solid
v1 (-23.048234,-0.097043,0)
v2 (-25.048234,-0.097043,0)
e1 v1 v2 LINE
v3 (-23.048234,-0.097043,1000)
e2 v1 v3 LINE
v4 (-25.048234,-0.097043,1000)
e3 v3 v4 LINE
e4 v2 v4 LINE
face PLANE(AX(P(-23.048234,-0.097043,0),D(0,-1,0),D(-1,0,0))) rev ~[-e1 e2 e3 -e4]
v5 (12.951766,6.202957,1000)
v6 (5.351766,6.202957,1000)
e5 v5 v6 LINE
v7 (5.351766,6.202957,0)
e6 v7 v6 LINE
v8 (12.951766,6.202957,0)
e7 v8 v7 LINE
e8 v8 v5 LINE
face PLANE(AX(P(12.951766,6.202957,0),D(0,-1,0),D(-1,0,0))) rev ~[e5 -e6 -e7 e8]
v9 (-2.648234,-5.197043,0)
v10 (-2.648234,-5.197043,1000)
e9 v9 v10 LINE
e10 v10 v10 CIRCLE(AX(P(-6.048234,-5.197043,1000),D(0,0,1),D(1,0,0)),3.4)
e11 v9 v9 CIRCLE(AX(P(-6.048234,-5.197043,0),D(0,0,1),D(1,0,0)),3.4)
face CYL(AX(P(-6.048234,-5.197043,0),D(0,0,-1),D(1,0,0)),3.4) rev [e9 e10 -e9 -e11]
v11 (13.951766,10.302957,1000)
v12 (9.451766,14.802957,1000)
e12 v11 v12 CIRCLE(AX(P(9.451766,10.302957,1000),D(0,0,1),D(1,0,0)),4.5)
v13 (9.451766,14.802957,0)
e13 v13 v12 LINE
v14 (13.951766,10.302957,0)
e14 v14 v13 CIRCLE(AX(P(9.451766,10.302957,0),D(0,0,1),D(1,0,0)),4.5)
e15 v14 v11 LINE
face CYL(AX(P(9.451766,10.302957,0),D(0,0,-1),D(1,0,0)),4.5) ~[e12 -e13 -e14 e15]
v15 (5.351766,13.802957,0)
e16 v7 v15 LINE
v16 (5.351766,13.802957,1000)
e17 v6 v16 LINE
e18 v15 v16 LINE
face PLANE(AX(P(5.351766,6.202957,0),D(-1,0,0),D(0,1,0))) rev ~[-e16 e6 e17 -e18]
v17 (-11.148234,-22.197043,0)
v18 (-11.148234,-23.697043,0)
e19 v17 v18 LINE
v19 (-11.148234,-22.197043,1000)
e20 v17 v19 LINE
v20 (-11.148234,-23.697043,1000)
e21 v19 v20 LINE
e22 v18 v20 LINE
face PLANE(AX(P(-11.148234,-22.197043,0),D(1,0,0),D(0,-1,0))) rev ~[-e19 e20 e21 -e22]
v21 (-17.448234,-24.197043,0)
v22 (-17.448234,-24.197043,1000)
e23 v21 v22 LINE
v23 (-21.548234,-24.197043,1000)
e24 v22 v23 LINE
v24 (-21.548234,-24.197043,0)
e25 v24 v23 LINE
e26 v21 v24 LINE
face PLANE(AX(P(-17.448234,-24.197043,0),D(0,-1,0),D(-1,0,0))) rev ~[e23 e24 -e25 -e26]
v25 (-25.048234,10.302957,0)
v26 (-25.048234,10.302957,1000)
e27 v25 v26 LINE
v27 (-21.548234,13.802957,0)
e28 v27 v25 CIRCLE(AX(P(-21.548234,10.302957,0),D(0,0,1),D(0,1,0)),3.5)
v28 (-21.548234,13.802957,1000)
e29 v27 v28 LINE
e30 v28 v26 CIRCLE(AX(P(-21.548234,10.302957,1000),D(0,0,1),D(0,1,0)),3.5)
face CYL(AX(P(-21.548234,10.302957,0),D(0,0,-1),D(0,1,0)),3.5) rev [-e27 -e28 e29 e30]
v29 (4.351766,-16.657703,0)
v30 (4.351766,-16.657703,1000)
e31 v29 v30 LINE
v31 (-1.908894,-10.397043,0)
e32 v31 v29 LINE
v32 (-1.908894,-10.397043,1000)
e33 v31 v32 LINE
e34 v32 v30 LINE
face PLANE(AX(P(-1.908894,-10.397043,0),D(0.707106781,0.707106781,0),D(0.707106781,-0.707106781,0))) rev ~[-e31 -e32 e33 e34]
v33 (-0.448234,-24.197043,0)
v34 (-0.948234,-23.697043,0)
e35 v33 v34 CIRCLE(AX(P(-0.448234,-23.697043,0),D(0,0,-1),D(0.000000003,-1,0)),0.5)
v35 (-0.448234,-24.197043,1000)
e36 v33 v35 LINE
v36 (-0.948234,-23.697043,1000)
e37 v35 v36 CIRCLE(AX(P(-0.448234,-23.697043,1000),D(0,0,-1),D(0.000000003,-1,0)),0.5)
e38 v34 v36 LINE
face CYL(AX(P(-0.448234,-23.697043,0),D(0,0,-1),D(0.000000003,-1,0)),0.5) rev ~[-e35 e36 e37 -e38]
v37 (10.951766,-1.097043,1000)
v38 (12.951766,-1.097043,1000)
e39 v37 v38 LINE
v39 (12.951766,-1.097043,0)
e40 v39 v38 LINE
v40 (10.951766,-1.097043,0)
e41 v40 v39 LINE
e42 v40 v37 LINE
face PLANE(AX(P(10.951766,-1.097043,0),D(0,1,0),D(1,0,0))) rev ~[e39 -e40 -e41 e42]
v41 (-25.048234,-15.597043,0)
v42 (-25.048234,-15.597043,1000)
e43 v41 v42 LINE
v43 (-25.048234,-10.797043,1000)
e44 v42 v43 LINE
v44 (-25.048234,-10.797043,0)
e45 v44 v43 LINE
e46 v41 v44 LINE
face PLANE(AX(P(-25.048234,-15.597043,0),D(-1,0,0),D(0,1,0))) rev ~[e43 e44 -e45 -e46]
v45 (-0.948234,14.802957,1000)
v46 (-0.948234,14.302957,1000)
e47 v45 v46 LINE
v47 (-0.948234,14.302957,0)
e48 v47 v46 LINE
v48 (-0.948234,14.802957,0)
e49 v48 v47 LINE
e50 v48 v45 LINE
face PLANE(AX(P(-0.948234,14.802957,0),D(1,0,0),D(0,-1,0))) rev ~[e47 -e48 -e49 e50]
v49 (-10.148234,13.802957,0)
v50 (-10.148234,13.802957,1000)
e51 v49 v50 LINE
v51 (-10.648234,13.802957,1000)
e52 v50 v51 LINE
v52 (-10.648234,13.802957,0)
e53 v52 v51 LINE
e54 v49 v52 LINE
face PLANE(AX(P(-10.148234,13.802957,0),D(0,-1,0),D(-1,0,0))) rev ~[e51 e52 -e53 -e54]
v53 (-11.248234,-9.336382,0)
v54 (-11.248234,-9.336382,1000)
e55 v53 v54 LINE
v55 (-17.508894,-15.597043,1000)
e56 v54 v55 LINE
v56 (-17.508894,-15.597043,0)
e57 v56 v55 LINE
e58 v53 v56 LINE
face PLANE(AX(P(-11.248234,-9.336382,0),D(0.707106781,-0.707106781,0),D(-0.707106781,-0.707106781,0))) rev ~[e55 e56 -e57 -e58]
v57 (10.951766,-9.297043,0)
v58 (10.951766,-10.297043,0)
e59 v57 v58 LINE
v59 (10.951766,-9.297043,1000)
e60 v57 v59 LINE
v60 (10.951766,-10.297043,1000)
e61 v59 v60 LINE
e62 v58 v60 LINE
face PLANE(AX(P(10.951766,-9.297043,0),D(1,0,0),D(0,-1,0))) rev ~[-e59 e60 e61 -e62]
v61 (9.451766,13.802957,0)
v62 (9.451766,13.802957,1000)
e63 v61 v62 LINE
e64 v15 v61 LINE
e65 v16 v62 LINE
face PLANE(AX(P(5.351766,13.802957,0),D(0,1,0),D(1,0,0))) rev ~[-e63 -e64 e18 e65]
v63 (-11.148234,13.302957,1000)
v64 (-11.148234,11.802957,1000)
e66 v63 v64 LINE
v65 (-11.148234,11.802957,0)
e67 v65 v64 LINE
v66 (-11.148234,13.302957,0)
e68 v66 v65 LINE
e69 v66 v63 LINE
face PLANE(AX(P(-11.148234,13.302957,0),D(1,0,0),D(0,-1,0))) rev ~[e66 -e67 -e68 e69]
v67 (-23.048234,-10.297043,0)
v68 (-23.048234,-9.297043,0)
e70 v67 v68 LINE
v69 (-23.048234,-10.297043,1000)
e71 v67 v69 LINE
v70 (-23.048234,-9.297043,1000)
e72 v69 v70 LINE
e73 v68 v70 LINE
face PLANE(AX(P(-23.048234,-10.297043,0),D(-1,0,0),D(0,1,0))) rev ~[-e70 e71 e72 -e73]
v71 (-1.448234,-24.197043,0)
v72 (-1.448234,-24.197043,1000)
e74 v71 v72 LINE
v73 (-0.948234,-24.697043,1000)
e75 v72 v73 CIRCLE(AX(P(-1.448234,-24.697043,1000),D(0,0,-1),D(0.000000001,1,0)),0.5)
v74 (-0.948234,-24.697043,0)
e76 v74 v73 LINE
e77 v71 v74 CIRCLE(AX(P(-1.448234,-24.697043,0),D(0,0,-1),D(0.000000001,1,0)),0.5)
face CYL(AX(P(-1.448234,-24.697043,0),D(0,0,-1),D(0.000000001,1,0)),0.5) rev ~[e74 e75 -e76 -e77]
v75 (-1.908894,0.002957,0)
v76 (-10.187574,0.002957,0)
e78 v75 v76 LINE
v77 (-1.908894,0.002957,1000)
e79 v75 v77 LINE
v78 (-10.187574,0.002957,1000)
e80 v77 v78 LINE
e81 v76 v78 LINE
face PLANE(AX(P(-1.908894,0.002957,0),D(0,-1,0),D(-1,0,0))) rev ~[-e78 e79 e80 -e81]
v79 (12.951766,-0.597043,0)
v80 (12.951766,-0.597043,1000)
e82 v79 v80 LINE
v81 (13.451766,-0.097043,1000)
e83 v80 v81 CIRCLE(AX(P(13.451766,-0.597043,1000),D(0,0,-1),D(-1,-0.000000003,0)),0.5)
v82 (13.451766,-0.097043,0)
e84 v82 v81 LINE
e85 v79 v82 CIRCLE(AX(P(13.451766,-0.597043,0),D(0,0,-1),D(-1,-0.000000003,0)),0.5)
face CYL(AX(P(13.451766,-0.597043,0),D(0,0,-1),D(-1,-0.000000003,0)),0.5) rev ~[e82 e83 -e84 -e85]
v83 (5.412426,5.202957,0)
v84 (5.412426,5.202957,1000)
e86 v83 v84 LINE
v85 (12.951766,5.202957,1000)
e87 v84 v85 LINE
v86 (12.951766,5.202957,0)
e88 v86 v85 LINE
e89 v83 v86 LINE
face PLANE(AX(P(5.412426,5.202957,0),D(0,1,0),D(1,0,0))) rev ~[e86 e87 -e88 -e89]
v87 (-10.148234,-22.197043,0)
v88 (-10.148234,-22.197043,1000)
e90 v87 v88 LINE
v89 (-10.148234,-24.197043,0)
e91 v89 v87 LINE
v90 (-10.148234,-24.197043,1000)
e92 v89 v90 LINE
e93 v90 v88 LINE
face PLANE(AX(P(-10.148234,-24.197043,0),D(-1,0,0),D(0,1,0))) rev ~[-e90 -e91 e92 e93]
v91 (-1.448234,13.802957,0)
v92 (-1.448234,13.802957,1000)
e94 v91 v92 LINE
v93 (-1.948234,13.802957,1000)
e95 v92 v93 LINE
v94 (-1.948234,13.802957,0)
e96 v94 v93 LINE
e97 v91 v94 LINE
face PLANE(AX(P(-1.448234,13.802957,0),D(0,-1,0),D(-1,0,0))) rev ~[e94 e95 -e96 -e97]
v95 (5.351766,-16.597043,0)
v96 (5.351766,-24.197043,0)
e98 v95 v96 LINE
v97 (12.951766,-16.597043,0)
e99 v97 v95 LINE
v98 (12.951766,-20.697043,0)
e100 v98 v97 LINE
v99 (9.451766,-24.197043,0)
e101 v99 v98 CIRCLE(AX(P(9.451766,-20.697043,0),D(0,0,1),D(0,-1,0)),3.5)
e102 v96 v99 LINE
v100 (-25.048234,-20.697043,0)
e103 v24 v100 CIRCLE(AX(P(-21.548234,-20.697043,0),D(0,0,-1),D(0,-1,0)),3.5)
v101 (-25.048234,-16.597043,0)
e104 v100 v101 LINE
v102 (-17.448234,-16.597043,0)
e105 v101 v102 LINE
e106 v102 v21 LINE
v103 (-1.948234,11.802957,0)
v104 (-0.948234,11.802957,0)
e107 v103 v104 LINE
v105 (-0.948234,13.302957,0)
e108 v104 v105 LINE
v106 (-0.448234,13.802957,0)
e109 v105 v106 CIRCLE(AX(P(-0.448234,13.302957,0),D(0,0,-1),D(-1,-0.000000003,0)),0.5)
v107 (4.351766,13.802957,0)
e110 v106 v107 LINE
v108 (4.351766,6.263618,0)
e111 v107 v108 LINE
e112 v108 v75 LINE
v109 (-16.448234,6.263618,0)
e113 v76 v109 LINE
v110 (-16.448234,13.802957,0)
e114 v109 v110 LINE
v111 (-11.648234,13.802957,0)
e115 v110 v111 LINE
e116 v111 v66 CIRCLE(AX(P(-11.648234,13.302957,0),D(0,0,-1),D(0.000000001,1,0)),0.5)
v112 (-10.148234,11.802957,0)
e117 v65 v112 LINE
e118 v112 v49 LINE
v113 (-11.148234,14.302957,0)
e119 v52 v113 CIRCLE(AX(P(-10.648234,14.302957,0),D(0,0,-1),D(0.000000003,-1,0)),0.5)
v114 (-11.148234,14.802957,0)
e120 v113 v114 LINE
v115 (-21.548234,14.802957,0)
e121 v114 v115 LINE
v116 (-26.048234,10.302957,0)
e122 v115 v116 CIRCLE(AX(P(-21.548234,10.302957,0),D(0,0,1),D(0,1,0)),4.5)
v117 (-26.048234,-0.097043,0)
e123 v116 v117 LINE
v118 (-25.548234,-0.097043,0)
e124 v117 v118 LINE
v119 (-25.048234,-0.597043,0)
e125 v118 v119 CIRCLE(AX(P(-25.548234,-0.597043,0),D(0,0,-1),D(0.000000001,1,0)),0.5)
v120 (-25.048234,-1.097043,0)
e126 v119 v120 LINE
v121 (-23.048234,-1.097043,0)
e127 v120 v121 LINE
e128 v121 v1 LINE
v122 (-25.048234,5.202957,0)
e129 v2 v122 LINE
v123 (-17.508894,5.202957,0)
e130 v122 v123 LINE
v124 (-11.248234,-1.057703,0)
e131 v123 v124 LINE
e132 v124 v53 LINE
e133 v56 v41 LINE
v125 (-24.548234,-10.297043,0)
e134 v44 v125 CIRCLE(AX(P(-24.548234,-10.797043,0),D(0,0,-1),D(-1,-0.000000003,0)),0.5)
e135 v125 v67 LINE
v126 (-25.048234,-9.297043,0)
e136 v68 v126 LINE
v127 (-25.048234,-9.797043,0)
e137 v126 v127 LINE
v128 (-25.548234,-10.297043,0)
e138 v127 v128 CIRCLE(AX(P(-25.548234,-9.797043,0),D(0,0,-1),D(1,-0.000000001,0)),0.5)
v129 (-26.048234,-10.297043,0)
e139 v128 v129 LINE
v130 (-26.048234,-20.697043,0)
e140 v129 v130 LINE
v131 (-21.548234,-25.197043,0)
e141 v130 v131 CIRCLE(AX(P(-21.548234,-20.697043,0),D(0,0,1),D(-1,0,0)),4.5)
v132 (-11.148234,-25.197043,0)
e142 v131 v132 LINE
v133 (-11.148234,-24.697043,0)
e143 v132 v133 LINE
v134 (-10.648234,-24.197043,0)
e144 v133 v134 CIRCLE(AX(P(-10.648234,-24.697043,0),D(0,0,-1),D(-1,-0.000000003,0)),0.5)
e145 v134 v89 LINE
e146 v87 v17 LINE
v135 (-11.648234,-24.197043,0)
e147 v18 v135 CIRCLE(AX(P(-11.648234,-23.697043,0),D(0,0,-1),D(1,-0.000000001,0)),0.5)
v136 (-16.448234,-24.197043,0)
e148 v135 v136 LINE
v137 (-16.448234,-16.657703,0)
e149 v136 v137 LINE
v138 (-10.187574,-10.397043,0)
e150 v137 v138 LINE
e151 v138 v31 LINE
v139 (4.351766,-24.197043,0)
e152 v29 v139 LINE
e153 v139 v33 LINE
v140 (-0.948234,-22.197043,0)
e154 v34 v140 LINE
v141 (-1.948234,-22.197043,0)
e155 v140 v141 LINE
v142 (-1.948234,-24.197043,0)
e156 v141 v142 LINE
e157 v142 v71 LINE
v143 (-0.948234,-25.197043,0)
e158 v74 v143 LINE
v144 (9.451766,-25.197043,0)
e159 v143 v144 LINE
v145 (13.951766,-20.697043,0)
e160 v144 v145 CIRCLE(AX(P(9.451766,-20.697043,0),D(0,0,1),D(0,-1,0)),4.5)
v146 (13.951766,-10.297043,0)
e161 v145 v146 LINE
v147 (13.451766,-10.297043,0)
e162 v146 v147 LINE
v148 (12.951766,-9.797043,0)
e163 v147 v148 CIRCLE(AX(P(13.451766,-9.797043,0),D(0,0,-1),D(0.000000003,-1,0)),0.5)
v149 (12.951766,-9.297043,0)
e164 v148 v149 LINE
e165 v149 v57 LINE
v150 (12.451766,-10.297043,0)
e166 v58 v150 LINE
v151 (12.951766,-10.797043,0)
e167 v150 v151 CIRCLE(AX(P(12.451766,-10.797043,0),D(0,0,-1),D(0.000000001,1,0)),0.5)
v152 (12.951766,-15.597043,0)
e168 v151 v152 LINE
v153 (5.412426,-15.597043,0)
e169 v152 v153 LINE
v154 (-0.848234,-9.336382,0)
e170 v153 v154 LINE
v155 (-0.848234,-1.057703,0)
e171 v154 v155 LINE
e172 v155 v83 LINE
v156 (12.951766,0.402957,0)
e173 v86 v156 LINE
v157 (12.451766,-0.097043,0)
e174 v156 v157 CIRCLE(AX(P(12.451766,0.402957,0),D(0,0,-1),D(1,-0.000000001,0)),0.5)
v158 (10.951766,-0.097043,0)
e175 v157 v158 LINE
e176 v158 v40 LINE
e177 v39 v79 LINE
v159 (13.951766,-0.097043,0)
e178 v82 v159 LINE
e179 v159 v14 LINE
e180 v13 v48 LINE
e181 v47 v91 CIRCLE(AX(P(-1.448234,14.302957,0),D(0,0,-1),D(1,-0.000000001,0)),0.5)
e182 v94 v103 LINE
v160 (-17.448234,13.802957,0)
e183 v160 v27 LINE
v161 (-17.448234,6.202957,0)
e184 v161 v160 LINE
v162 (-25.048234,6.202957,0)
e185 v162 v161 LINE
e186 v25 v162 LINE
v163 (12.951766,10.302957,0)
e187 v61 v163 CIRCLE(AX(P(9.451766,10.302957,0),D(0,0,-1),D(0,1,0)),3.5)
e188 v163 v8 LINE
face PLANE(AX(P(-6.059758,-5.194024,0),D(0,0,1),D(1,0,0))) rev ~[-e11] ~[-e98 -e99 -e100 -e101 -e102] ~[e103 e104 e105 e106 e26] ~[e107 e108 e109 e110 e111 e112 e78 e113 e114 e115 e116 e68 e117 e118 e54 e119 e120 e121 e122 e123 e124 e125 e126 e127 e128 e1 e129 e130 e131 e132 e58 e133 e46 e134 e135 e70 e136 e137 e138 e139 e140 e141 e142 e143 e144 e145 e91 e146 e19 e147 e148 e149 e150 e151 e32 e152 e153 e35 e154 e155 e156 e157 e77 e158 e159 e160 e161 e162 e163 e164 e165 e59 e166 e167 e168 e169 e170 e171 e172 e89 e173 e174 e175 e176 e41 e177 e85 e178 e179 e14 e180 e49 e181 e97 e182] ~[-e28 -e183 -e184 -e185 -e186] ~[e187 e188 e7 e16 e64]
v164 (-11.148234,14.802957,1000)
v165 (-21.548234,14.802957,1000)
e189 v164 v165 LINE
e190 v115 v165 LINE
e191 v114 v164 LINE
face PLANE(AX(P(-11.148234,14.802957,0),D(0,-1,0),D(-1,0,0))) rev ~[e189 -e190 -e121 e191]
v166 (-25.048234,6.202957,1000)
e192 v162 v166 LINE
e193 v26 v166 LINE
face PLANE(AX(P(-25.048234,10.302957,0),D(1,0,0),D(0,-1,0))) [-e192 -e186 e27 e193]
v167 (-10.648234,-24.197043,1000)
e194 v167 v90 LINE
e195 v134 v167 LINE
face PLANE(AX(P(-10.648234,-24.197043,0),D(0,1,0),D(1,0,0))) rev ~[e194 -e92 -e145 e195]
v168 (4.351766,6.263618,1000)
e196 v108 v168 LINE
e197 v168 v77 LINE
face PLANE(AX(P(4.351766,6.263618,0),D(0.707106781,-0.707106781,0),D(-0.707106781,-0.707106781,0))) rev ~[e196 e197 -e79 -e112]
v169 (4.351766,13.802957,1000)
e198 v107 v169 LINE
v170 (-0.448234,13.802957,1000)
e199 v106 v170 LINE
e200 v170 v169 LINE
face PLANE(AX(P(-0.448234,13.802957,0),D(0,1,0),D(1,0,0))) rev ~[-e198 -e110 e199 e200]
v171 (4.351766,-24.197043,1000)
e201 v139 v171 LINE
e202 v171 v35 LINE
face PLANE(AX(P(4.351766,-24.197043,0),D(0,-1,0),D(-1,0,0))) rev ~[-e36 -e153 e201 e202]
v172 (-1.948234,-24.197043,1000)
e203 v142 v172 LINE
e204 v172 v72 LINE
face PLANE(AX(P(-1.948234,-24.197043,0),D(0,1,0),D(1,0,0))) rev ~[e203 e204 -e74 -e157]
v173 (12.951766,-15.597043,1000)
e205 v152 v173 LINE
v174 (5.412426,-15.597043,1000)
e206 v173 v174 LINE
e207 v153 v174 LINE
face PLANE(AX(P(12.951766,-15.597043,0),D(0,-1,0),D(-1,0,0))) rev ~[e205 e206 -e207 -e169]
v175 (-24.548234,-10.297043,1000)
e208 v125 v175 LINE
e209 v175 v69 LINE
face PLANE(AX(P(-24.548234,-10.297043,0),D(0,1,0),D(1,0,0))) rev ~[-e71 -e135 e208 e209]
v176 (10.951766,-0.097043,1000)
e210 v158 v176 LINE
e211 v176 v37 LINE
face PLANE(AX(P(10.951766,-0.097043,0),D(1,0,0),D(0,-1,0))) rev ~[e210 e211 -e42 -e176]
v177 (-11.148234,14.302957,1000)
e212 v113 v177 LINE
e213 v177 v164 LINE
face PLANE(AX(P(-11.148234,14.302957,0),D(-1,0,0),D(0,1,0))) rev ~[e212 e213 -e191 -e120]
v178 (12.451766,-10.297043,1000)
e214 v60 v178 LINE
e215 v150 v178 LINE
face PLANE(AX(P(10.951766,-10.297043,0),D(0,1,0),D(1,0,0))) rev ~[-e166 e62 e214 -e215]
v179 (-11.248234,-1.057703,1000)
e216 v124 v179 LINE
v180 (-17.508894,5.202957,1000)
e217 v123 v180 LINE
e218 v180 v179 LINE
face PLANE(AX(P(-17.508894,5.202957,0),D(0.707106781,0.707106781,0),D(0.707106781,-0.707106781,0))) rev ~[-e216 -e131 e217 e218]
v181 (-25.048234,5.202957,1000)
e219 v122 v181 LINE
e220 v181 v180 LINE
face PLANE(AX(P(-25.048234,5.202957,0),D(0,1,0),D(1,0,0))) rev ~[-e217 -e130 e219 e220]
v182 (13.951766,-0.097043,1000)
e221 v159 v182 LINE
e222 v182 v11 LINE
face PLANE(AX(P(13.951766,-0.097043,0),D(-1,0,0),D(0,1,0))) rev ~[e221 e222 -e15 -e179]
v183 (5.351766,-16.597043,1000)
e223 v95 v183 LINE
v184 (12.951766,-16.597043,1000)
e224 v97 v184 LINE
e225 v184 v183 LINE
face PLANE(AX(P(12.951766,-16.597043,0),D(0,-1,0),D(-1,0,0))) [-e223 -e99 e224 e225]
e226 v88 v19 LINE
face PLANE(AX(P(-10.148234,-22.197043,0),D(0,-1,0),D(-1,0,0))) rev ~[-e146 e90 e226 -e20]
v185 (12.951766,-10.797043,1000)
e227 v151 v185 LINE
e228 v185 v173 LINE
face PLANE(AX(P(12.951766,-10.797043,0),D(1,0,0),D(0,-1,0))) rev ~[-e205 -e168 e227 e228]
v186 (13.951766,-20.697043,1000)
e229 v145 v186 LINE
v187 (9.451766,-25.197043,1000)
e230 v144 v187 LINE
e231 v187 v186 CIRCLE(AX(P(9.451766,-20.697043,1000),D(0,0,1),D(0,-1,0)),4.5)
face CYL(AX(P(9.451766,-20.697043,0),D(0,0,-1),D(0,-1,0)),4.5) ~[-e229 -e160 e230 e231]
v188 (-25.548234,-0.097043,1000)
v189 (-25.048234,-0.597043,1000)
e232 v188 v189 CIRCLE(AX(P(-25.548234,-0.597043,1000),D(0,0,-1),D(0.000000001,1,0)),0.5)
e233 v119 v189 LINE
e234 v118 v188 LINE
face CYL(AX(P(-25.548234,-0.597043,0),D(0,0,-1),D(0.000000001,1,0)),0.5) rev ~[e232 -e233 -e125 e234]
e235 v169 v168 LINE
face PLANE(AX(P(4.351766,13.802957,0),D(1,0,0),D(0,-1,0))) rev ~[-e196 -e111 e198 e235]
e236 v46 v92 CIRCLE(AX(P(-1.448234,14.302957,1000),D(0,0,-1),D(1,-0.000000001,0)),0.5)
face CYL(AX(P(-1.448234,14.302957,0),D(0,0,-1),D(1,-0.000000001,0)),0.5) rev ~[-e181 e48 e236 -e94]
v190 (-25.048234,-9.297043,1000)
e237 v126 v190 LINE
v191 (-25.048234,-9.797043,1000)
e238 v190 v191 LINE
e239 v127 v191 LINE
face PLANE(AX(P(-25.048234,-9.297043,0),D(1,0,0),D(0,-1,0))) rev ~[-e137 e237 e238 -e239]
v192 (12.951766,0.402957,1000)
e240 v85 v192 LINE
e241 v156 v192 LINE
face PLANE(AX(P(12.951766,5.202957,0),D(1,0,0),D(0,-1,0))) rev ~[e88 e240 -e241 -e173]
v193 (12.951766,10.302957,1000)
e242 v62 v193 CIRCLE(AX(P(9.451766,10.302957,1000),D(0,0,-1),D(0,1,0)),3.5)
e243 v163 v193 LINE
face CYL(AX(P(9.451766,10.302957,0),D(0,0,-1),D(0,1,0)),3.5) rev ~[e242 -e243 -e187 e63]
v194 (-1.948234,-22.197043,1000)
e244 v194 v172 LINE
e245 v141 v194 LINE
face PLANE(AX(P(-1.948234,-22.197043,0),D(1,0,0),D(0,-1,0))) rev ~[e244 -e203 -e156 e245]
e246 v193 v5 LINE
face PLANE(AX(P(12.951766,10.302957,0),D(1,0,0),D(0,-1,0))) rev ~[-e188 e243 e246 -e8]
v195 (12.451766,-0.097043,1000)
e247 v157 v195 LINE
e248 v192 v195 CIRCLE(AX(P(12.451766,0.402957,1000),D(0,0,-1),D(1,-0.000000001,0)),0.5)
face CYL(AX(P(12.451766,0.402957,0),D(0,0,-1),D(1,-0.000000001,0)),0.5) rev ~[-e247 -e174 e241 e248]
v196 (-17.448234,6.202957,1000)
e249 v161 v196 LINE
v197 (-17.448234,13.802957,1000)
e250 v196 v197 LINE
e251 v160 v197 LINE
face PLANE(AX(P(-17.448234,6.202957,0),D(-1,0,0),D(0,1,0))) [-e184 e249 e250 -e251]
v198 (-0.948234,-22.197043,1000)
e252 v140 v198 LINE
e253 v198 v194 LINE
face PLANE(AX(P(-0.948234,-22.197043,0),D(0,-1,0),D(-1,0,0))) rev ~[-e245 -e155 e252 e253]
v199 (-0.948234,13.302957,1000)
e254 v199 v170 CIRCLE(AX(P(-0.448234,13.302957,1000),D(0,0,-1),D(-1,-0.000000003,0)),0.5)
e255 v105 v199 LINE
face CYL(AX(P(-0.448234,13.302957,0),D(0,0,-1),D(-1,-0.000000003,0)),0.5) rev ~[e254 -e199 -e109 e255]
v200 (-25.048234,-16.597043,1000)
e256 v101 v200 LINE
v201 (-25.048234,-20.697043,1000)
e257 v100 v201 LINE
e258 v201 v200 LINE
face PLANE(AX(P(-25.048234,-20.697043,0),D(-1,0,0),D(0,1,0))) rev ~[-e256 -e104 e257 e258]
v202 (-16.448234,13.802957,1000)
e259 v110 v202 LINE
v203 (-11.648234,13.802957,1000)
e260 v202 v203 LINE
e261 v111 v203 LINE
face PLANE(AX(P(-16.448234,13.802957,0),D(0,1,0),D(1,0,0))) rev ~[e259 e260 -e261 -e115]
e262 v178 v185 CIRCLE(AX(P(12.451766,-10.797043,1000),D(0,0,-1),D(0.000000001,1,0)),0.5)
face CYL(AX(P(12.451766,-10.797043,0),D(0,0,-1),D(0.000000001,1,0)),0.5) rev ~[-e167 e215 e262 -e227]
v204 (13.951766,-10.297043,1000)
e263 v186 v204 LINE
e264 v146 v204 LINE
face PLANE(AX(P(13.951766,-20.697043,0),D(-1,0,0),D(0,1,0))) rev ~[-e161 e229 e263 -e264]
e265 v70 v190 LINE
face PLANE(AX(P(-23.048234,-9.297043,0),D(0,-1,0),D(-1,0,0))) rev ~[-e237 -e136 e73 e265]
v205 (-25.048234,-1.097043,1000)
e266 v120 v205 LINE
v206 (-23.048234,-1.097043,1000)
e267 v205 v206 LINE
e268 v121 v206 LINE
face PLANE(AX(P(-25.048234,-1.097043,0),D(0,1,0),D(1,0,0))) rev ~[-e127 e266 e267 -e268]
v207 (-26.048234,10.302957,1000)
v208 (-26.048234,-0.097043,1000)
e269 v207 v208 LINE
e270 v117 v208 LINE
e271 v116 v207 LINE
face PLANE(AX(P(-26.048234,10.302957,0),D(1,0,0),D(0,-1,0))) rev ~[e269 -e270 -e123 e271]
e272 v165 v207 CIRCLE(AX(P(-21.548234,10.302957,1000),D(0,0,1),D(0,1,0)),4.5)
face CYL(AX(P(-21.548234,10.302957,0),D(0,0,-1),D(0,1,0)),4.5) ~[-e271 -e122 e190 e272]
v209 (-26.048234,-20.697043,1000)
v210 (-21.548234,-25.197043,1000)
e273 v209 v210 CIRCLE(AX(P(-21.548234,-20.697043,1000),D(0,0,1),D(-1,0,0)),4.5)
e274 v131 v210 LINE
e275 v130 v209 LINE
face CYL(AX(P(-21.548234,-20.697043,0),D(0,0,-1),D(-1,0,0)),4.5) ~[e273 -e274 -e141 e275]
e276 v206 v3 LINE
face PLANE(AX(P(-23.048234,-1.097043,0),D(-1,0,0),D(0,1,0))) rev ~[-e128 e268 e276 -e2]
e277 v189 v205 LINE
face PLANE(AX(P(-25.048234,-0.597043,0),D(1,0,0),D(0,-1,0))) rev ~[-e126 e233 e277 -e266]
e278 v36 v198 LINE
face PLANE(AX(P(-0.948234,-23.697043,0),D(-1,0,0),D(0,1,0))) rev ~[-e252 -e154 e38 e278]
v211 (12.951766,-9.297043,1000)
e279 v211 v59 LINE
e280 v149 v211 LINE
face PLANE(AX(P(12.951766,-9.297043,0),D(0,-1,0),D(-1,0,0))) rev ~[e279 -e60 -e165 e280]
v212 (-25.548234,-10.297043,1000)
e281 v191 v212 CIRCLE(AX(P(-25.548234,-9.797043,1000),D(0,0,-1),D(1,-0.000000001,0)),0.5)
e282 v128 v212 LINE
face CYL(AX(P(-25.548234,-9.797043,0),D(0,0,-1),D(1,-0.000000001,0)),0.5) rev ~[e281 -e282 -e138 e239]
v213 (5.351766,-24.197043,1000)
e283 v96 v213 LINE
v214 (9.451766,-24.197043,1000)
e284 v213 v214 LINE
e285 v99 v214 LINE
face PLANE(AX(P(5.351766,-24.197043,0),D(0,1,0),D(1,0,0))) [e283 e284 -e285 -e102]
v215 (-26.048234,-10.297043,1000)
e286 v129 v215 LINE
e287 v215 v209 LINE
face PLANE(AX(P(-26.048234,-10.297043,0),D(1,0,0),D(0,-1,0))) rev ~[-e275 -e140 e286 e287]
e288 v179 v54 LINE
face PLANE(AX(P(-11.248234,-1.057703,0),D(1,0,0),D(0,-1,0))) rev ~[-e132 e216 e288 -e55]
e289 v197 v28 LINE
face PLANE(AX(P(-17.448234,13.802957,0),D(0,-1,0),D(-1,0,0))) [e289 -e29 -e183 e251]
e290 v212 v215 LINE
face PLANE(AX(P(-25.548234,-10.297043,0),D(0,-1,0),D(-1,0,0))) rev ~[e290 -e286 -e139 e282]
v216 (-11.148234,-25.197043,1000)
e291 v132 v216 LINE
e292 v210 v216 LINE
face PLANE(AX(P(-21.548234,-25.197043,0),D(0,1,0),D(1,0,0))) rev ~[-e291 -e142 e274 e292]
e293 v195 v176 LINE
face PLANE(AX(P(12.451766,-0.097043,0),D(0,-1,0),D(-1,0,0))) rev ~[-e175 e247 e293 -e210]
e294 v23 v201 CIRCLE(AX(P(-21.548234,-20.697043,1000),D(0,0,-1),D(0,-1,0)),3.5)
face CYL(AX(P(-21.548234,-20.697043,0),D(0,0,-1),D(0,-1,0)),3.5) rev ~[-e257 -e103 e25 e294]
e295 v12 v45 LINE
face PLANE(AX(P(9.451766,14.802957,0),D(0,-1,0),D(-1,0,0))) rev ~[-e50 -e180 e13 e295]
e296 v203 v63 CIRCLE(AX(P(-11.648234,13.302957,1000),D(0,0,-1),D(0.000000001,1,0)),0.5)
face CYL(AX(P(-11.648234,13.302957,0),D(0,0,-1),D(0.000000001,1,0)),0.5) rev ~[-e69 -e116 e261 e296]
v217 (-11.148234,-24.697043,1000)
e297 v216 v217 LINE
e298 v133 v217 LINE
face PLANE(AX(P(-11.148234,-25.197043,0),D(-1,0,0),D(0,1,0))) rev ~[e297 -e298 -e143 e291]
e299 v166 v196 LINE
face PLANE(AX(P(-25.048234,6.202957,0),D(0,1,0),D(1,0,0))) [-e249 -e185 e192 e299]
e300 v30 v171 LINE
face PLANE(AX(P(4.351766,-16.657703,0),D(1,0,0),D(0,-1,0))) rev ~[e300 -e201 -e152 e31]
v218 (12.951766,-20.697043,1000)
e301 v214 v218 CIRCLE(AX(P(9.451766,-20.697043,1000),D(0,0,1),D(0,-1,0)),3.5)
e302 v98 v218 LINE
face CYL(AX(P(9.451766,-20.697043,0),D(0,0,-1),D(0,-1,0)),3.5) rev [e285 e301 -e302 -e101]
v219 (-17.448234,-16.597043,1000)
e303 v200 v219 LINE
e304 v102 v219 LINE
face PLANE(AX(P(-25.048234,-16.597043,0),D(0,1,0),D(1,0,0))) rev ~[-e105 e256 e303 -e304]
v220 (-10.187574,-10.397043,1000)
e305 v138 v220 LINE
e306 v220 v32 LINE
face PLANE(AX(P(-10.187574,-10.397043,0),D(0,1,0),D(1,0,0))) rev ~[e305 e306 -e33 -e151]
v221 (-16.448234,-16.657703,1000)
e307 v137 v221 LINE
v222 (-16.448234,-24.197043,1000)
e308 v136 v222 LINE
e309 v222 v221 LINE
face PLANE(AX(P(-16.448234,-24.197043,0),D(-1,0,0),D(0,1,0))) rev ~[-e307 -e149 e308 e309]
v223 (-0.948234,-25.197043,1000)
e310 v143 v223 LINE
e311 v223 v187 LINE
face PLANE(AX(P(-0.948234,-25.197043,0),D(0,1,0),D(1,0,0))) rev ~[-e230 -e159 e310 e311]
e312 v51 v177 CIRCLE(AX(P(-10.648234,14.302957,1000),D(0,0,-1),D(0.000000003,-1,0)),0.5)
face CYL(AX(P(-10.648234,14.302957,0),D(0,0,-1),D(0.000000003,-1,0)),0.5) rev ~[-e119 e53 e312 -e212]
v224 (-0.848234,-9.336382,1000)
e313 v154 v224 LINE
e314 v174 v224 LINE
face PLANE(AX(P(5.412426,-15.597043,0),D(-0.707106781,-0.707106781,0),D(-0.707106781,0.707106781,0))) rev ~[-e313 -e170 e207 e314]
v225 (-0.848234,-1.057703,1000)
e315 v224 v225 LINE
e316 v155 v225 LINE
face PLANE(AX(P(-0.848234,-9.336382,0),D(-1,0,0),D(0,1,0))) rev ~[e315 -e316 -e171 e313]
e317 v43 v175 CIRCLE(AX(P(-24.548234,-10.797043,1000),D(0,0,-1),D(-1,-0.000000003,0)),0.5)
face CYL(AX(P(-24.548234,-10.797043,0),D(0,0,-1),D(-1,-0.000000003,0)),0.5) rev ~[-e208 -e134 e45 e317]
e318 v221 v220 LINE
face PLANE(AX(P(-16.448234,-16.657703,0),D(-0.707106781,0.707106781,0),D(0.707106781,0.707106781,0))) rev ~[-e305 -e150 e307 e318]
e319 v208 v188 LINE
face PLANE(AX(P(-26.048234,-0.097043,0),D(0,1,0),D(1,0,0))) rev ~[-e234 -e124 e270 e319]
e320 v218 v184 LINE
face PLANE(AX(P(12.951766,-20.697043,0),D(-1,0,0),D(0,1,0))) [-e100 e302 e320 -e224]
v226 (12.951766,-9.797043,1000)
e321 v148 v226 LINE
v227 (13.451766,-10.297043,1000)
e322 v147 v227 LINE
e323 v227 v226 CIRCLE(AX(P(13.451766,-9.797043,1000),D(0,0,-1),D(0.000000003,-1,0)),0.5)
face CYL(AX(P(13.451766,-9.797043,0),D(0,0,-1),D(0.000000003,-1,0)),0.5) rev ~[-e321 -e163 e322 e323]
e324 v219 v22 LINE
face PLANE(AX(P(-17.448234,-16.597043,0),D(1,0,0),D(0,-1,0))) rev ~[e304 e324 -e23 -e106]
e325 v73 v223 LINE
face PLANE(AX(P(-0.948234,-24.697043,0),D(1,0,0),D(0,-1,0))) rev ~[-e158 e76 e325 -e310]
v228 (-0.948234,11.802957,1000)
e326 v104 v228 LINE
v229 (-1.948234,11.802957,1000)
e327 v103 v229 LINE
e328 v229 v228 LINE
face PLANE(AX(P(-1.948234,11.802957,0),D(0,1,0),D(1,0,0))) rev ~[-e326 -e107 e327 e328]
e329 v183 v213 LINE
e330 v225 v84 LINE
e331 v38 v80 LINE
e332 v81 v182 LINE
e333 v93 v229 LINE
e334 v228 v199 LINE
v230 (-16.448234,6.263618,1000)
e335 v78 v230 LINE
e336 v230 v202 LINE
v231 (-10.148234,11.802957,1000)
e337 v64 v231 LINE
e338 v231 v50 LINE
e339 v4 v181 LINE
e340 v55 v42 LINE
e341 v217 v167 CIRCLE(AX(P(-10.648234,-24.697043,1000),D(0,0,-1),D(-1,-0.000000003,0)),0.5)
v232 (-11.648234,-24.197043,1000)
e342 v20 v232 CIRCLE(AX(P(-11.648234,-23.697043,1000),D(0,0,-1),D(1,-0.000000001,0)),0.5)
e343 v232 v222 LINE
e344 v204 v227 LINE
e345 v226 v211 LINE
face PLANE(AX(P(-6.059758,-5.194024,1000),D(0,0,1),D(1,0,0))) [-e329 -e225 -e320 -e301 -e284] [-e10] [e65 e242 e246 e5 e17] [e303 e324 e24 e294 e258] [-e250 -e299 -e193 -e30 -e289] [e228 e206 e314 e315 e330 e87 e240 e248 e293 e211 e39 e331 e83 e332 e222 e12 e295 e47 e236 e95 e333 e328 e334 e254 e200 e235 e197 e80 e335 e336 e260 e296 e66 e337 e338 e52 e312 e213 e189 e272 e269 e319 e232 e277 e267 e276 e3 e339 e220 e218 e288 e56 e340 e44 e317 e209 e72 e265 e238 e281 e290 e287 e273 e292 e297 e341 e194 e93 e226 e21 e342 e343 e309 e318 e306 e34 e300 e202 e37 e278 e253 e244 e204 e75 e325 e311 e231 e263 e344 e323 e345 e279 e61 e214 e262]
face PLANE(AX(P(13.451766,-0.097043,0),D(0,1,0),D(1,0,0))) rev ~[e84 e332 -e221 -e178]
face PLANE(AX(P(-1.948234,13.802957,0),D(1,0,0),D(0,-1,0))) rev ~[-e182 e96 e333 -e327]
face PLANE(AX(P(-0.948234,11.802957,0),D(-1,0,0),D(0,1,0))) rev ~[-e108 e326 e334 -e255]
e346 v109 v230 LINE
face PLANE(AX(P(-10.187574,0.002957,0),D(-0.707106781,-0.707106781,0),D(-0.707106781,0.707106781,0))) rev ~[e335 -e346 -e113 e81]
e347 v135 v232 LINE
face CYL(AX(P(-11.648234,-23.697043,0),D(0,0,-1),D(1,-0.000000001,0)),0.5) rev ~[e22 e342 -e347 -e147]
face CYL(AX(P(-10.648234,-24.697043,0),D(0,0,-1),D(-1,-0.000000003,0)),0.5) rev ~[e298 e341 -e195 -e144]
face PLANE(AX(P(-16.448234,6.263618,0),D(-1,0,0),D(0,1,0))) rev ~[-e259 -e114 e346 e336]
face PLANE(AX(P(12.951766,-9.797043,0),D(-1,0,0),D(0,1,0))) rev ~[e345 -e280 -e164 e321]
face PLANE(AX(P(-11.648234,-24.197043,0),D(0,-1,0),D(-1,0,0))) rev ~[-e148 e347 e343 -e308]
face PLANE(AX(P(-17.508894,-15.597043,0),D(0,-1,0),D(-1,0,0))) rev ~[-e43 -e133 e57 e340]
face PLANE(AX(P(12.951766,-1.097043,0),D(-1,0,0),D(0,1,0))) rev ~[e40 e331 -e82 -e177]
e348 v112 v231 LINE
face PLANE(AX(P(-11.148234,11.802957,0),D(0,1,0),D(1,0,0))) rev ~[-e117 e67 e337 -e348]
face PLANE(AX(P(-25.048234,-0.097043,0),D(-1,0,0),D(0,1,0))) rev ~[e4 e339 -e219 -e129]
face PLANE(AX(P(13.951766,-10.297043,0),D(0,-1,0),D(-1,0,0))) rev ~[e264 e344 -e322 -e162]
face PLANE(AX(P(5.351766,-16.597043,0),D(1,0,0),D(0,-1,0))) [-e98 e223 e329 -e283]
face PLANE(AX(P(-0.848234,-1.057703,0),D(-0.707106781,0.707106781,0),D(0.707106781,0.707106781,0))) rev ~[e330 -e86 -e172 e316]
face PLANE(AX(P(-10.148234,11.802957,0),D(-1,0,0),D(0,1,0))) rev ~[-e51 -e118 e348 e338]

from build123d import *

# Parameters (mm, degrees)
SKETCH_1_R      = 3.4
EXTRUDE_1_DEPTH = 1000


with BuildPart() as part:
    # 草图1 → 凸台-拉伸1 (new body)
    with BuildSketch(Plane.XY):
        with BuildLine():
            Line((-11.148233949, 14.802957359), (-21.548233949, 14.802957359))
            ThreePointArc((-21.548233949, 14.802957359), (-24.730214465, 13.484937874), (-26.048233949, 10.302957359))
            Line((-26.048233949, 10.302957359), (-26.048233949, -0.097042641))
            Line((-26.048233949, -0.097042641), (-25.548233949, -0.097042641))
            ThreePointArc((-25.548233949, -0.097042641), (-25.194680559, -0.24348925), (-25.048233949, -0.597042641))
            Line((-25.048233949, -0.597042641), (-25.048233949, -1.097042641))
            Line((-25.048233949, -1.097042641), (-23.048233949, -1.097042641))
            Line((-23.048233949, -1.097042641), (-23.048233949, -0.097042641))
            Line((-23.048233949, -0.097042641), (-25.048233949, -0.097042641))
            Line((-25.048233949, -0.097042641), (-25.048233949, 5.202957359))
            Line((-25.048233949, 5.202957359), (-17.508894121, 5.202957359))
            Line((-17.508894121, 5.202957359), (-11.248233949, -1.057702813))
            Line((-11.248233949, -1.057702813), (-11.248233949, -9.336382469))
            Line((-11.248233949, -9.336382469), (-17.508894121, -15.597042641))
            Line((-17.508894121, -15.597042641), (-25.048233949, -15.597042641))
            Line((-25.048233949, -15.597042641), (-25.048233949, -10.797042641))
            ThreePointArc((-25.048233949, -10.797042641), (-24.90178734, -10.44348925), (-24.548233949, -10.297042641))
            Line((-24.548233949, -10.297042641), (-23.048233949, -10.297042641))
            Line((-23.048233949, -10.297042641), (-23.048233949, -9.297042641))
            Line((-23.048233949, -9.297042641), (-25.048233949, -9.297042641))
            Line((-25.048233949, -9.297042641), (-25.048233949, -9.797042641))
            ThreePointArc((-25.048233949, -9.797042641), (-25.194680559, -10.150596032), (-25.548233949, -10.297042641))
            Line((-25.548233949, -10.297042641), (-26.048233949, -10.297042641))
            Line((-26.048233949, -10.297042641), (-26.048233949, -20.697042641))
            ThreePointArc((-26.048233949, -20.697042641), (-24.730214465, -23.879023156), (-21.548233949, -25.197042641))
            Line((-21.548233949, -25.197042641), (-11.148233949, -25.197042641))
            Line((-11.148233949, -25.197042641), (-11.148233949, -24.697042641))
            ThreePointArc((-11.148233949, -24.697042641), (-11.00178734, -24.34348925), (-10.648233949, -24.197042641))
            Line((-10.648233949, -24.197042641), (-10.148233949, -24.197042641))
            Line((-10.148233949, -24.197042641), (-10.148233949, -22.197042641))
            Line((-10.148233949, -22.197042641), (-11.148233949, -22.197042641))
            Line((-11.148233949, -22.197042641), (-11.148233949, -23.697042641))
            ThreePointArc((-11.148233949, -23.697042641), (-11.294680559, -24.050596032), (-11.648233949, -24.197042641))
            Line((-11.648233949, -24.197042641), (-16.448233949, -24.197042641))
            Line((-16.448233949, -24.197042641), (-16.448233949, -16.657702813))
            Line((-16.448233949, -16.657702813), (-10.187573777, -10.397042641))
            Line((-10.187573777, -10.397042641), (-1.908894121, -10.397042641))
            Line((-1.908894121, -10.397042641), (4.351766051, -16.657702813))
            Line((4.351766051, -16.657702813), (4.351766051, -24.197042641))
            Line((4.351766051, -24.197042641), (-0.448233949, -24.197042641))
            ThreePointArc((-0.448233949, -24.197042641), (-0.80178734, -24.050596032), (-0.948233949, -23.697042641))
            Line((-0.948233949, -23.697042641), (-0.948233949, -22.197042641))
            Line((-0.948233949, -22.197042641), (-1.948233949, -22.197042641))
            Line((-1.948233949, -22.197042641), (-1.948233949, -24.197042641))
            Line((-1.948233949, -24.197042641), (-1.448233949, -24.197042641))
            ThreePointArc((-1.448233949, -24.197042641), (-1.094680559, -24.34348925), (-0.948233949, -24.697042641))
            Line((-0.948233949, -24.697042641), (-0.948233949, -25.197042641))
            Line((-0.948233949, -25.197042641), (9.451766051, -25.197042641))
            ThreePointArc((9.451766051, -25.197042641), (12.633746566, -23.879023156), (13.951766051, -20.697042641))
            Line((13.951766051, -20.697042641), (13.951766051, -10.297042641))
            Line((13.951766051, -10.297042641), (13.451766051, -10.297042641))
            ThreePointArc((13.451766051, -10.297042641), (13.09821266, -10.150596032), (12.951766051, -9.797042641))
            Line((12.951766051, -9.797042641), (12.951766051, -9.297042641))
            Line((12.951766051, -9.297042641), (10.951766051, -9.297042641))
            Line((10.951766051, -9.297042641), (10.951766051, -10.297042641))
            Line((10.951766051, -10.297042641), (12.451766051, -10.297042641))
            ThreePointArc((12.451766051, -10.297042641), (12.805319441, -10.44348925), (12.951766051, -10.797042641))
            Line((12.951766051, -10.797042641), (12.951766051, -15.597042641))
            Line((12.951766051, -15.597042641), (5.412426223, -15.597042641))
            Line((5.412426223, -15.597042641), (-0.848233949, -9.336382469))
            Line((-0.848233949, -9.336382469), (-0.848233949, -1.057702813))
            Line((-0.848233949, -1.057702813), (5.412426223, 5.202957359))
            Line((5.412426223, 5.202957359), (12.951766051, 5.202957359))
            Line((12.951766051, 5.202957359), (12.951766051, 0.402957359))
            ThreePointArc((12.951766051, 0.402957359), (12.805319441, 0.049403968), (12.451766051, -0.097042641))
            Line((12.451766051, -0.097042641), (10.951766051, -0.097042641))
            Line((10.951766051, -0.097042641), (10.951766051, -1.097042641))
            Line((10.951766051, -1.097042641), (12.951766051, -1.097042641))
            Line((12.951766051, -1.097042641), (12.951766051, -0.597042641))
            ThreePointArc((12.951766051, -0.597042641), (13.09821266, -0.24348925), (13.451766051, -0.097042641))
            Line((13.451766051, -0.097042641), (13.951766051, -0.097042641))
            Line((13.951766051, -0.097042641), (13.951766051, 10.302957359))
            ThreePointArc((13.951766051, 10.302957359), (12.633746566, 13.484937874), (9.451766051, 14.802957359))
            Line((9.451766051, 14.802957359), (-0.948233949, 14.802957359))
            Line((-0.948233949, 14.802957359), (-0.948233949, 14.302957359))
            ThreePointArc((-0.948233949, 14.302957359), (-1.094680559, 13.949403968), (-1.448233949, 13.802957359))
            Line((-1.448233949, 13.802957359), (-1.948233949, 13.802957359))
            Line((-1.948233949, 13.802957359), (-1.948233949, 11.802957359))
            Line((-1.948233949, 11.802957359), (-0.948233949, 11.802957359))
            Line((-0.948233949, 11.802957359), (-0.948233949, 13.302957359))
            ThreePointArc((-0.948233949, 13.302957359), (-0.80178734, 13.65651075), (-0.448233949, 13.802957359))
            Line((-0.448233949, 13.802957359), (4.351766051, 13.802957359))
            Line((4.351766051, 13.802957359), (4.351766051, 6.263617531))
            Line((4.351766051, 6.263617531), (-1.908894121, 0.002957359))
            Line((-1.908894121, 0.002957359), (-10.187573777, 0.002957359))
            Line((-10.187573777, 0.002957359), (-16.448233949, 6.263617531))
            Line((-16.448233949, 6.263617531), (-16.448233949, 13.802957359))
            Line((-16.448233949, 13.802957359), (-11.648233949, 13.802957359))
            ThreePointArc((-11.648233949, 13.802957359), (-11.294680559, 13.65651075), (-11.148233949, 13.302957359))
            Line((-11.148233949, 13.302957359), (-11.148233949, 11.802957359))
            Line((-11.148233949, 11.802957359), (-10.148233949, 11.802957359))
            Line((-10.148233949, 11.802957359), (-10.148233949, 13.802957359))
            Line((-10.148233949, 13.802957359), (-10.648233949, 13.802957359))
            ThreePointArc((-10.648233949, 13.802957359), (-11.00178734, 13.949403968), (-11.148233949, 14.302957359))
            Line((-11.148233949, 14.302957359), (-11.148233949, 14.802957359))
        make_face()
        with Locations((-6.048233949, -5.197042641)):
            Circle(SKETCH_1_R, mode=Mode.SUBTRACT)
        with BuildLine():
            Line((-17.448233949, 13.802957359), (-21.548233949, 13.802957359))
            ThreePointArc((-21.548233949, 13.802957359), (-24.023107683, 12.777831093), (-25.048233949, 10.302957359))
            Line((-25.048233949, 10.302957359), (-25.048233949, 6.202957359))
            Line((-25.048233949, 6.202957359), (-17.448233949, 6.202957359))
            Line((-17.448233949, 6.202957359), (-17.448233949, 13.802957359))
        make_face(mode=Mode.SUBTRACT)
        with BuildLine():
            Line((5.351766051, 13.802957359), (9.451766051, 13.802957359))
            ThreePointArc((9.451766051, 13.802957359), (11.926639785, 12.777831093), (12.951766051, 10.302957359))
            Line((12.951766051, 10.302957359), (12.951766051, 6.202957359))
            Line((12.951766051, 6.202957359), (5.351766051, 6.202957359))
            Line((5.351766051, 6.202957359), (5.351766051, 13.802957359))
        make_face(mode=Mode.SUBTRACT)
        with BuildLine():
            Line((-17.448233949, -24.197042641), (-21.548233949, -24.197042641))
            ThreePointArc((-21.548233949, -24.197042641), (-24.023107683, -23.171916375), (-25.048233949, -20.697042641))
            Line((-25.048233949, -20.697042641), (-25.048233949, -16.597042641))
            Line((-25.048233949, -16.597042641), (-17.448233949, -16.597042641))
            Line((-17.448233949, -16.597042641), (-17.448233949, -24.197042641))
        make_face(mode=Mode.SUBTRACT)
        with BuildLine():
            Line((5.351766051, -24.197042641), (9.451766051, -24.197042641))
            ThreePointArc((9.451766051, -24.197042641), (11.926639785, -23.171916375), (12.951766051, -20.697042641))
            Line((12.951766051, -20.697042641), (12.951766051, -16.597042641))
            Line((12.951766051, -16.597042641), (5.351766051, -16.597042641))
            Line((5.351766051, -16.597042641), (5.351766051, -24.197042641))
        make_face(mode=Mode.SUBTRACT)
    extrude(amount=EXTRUDE_1_DEPTH)


solid = part.part
